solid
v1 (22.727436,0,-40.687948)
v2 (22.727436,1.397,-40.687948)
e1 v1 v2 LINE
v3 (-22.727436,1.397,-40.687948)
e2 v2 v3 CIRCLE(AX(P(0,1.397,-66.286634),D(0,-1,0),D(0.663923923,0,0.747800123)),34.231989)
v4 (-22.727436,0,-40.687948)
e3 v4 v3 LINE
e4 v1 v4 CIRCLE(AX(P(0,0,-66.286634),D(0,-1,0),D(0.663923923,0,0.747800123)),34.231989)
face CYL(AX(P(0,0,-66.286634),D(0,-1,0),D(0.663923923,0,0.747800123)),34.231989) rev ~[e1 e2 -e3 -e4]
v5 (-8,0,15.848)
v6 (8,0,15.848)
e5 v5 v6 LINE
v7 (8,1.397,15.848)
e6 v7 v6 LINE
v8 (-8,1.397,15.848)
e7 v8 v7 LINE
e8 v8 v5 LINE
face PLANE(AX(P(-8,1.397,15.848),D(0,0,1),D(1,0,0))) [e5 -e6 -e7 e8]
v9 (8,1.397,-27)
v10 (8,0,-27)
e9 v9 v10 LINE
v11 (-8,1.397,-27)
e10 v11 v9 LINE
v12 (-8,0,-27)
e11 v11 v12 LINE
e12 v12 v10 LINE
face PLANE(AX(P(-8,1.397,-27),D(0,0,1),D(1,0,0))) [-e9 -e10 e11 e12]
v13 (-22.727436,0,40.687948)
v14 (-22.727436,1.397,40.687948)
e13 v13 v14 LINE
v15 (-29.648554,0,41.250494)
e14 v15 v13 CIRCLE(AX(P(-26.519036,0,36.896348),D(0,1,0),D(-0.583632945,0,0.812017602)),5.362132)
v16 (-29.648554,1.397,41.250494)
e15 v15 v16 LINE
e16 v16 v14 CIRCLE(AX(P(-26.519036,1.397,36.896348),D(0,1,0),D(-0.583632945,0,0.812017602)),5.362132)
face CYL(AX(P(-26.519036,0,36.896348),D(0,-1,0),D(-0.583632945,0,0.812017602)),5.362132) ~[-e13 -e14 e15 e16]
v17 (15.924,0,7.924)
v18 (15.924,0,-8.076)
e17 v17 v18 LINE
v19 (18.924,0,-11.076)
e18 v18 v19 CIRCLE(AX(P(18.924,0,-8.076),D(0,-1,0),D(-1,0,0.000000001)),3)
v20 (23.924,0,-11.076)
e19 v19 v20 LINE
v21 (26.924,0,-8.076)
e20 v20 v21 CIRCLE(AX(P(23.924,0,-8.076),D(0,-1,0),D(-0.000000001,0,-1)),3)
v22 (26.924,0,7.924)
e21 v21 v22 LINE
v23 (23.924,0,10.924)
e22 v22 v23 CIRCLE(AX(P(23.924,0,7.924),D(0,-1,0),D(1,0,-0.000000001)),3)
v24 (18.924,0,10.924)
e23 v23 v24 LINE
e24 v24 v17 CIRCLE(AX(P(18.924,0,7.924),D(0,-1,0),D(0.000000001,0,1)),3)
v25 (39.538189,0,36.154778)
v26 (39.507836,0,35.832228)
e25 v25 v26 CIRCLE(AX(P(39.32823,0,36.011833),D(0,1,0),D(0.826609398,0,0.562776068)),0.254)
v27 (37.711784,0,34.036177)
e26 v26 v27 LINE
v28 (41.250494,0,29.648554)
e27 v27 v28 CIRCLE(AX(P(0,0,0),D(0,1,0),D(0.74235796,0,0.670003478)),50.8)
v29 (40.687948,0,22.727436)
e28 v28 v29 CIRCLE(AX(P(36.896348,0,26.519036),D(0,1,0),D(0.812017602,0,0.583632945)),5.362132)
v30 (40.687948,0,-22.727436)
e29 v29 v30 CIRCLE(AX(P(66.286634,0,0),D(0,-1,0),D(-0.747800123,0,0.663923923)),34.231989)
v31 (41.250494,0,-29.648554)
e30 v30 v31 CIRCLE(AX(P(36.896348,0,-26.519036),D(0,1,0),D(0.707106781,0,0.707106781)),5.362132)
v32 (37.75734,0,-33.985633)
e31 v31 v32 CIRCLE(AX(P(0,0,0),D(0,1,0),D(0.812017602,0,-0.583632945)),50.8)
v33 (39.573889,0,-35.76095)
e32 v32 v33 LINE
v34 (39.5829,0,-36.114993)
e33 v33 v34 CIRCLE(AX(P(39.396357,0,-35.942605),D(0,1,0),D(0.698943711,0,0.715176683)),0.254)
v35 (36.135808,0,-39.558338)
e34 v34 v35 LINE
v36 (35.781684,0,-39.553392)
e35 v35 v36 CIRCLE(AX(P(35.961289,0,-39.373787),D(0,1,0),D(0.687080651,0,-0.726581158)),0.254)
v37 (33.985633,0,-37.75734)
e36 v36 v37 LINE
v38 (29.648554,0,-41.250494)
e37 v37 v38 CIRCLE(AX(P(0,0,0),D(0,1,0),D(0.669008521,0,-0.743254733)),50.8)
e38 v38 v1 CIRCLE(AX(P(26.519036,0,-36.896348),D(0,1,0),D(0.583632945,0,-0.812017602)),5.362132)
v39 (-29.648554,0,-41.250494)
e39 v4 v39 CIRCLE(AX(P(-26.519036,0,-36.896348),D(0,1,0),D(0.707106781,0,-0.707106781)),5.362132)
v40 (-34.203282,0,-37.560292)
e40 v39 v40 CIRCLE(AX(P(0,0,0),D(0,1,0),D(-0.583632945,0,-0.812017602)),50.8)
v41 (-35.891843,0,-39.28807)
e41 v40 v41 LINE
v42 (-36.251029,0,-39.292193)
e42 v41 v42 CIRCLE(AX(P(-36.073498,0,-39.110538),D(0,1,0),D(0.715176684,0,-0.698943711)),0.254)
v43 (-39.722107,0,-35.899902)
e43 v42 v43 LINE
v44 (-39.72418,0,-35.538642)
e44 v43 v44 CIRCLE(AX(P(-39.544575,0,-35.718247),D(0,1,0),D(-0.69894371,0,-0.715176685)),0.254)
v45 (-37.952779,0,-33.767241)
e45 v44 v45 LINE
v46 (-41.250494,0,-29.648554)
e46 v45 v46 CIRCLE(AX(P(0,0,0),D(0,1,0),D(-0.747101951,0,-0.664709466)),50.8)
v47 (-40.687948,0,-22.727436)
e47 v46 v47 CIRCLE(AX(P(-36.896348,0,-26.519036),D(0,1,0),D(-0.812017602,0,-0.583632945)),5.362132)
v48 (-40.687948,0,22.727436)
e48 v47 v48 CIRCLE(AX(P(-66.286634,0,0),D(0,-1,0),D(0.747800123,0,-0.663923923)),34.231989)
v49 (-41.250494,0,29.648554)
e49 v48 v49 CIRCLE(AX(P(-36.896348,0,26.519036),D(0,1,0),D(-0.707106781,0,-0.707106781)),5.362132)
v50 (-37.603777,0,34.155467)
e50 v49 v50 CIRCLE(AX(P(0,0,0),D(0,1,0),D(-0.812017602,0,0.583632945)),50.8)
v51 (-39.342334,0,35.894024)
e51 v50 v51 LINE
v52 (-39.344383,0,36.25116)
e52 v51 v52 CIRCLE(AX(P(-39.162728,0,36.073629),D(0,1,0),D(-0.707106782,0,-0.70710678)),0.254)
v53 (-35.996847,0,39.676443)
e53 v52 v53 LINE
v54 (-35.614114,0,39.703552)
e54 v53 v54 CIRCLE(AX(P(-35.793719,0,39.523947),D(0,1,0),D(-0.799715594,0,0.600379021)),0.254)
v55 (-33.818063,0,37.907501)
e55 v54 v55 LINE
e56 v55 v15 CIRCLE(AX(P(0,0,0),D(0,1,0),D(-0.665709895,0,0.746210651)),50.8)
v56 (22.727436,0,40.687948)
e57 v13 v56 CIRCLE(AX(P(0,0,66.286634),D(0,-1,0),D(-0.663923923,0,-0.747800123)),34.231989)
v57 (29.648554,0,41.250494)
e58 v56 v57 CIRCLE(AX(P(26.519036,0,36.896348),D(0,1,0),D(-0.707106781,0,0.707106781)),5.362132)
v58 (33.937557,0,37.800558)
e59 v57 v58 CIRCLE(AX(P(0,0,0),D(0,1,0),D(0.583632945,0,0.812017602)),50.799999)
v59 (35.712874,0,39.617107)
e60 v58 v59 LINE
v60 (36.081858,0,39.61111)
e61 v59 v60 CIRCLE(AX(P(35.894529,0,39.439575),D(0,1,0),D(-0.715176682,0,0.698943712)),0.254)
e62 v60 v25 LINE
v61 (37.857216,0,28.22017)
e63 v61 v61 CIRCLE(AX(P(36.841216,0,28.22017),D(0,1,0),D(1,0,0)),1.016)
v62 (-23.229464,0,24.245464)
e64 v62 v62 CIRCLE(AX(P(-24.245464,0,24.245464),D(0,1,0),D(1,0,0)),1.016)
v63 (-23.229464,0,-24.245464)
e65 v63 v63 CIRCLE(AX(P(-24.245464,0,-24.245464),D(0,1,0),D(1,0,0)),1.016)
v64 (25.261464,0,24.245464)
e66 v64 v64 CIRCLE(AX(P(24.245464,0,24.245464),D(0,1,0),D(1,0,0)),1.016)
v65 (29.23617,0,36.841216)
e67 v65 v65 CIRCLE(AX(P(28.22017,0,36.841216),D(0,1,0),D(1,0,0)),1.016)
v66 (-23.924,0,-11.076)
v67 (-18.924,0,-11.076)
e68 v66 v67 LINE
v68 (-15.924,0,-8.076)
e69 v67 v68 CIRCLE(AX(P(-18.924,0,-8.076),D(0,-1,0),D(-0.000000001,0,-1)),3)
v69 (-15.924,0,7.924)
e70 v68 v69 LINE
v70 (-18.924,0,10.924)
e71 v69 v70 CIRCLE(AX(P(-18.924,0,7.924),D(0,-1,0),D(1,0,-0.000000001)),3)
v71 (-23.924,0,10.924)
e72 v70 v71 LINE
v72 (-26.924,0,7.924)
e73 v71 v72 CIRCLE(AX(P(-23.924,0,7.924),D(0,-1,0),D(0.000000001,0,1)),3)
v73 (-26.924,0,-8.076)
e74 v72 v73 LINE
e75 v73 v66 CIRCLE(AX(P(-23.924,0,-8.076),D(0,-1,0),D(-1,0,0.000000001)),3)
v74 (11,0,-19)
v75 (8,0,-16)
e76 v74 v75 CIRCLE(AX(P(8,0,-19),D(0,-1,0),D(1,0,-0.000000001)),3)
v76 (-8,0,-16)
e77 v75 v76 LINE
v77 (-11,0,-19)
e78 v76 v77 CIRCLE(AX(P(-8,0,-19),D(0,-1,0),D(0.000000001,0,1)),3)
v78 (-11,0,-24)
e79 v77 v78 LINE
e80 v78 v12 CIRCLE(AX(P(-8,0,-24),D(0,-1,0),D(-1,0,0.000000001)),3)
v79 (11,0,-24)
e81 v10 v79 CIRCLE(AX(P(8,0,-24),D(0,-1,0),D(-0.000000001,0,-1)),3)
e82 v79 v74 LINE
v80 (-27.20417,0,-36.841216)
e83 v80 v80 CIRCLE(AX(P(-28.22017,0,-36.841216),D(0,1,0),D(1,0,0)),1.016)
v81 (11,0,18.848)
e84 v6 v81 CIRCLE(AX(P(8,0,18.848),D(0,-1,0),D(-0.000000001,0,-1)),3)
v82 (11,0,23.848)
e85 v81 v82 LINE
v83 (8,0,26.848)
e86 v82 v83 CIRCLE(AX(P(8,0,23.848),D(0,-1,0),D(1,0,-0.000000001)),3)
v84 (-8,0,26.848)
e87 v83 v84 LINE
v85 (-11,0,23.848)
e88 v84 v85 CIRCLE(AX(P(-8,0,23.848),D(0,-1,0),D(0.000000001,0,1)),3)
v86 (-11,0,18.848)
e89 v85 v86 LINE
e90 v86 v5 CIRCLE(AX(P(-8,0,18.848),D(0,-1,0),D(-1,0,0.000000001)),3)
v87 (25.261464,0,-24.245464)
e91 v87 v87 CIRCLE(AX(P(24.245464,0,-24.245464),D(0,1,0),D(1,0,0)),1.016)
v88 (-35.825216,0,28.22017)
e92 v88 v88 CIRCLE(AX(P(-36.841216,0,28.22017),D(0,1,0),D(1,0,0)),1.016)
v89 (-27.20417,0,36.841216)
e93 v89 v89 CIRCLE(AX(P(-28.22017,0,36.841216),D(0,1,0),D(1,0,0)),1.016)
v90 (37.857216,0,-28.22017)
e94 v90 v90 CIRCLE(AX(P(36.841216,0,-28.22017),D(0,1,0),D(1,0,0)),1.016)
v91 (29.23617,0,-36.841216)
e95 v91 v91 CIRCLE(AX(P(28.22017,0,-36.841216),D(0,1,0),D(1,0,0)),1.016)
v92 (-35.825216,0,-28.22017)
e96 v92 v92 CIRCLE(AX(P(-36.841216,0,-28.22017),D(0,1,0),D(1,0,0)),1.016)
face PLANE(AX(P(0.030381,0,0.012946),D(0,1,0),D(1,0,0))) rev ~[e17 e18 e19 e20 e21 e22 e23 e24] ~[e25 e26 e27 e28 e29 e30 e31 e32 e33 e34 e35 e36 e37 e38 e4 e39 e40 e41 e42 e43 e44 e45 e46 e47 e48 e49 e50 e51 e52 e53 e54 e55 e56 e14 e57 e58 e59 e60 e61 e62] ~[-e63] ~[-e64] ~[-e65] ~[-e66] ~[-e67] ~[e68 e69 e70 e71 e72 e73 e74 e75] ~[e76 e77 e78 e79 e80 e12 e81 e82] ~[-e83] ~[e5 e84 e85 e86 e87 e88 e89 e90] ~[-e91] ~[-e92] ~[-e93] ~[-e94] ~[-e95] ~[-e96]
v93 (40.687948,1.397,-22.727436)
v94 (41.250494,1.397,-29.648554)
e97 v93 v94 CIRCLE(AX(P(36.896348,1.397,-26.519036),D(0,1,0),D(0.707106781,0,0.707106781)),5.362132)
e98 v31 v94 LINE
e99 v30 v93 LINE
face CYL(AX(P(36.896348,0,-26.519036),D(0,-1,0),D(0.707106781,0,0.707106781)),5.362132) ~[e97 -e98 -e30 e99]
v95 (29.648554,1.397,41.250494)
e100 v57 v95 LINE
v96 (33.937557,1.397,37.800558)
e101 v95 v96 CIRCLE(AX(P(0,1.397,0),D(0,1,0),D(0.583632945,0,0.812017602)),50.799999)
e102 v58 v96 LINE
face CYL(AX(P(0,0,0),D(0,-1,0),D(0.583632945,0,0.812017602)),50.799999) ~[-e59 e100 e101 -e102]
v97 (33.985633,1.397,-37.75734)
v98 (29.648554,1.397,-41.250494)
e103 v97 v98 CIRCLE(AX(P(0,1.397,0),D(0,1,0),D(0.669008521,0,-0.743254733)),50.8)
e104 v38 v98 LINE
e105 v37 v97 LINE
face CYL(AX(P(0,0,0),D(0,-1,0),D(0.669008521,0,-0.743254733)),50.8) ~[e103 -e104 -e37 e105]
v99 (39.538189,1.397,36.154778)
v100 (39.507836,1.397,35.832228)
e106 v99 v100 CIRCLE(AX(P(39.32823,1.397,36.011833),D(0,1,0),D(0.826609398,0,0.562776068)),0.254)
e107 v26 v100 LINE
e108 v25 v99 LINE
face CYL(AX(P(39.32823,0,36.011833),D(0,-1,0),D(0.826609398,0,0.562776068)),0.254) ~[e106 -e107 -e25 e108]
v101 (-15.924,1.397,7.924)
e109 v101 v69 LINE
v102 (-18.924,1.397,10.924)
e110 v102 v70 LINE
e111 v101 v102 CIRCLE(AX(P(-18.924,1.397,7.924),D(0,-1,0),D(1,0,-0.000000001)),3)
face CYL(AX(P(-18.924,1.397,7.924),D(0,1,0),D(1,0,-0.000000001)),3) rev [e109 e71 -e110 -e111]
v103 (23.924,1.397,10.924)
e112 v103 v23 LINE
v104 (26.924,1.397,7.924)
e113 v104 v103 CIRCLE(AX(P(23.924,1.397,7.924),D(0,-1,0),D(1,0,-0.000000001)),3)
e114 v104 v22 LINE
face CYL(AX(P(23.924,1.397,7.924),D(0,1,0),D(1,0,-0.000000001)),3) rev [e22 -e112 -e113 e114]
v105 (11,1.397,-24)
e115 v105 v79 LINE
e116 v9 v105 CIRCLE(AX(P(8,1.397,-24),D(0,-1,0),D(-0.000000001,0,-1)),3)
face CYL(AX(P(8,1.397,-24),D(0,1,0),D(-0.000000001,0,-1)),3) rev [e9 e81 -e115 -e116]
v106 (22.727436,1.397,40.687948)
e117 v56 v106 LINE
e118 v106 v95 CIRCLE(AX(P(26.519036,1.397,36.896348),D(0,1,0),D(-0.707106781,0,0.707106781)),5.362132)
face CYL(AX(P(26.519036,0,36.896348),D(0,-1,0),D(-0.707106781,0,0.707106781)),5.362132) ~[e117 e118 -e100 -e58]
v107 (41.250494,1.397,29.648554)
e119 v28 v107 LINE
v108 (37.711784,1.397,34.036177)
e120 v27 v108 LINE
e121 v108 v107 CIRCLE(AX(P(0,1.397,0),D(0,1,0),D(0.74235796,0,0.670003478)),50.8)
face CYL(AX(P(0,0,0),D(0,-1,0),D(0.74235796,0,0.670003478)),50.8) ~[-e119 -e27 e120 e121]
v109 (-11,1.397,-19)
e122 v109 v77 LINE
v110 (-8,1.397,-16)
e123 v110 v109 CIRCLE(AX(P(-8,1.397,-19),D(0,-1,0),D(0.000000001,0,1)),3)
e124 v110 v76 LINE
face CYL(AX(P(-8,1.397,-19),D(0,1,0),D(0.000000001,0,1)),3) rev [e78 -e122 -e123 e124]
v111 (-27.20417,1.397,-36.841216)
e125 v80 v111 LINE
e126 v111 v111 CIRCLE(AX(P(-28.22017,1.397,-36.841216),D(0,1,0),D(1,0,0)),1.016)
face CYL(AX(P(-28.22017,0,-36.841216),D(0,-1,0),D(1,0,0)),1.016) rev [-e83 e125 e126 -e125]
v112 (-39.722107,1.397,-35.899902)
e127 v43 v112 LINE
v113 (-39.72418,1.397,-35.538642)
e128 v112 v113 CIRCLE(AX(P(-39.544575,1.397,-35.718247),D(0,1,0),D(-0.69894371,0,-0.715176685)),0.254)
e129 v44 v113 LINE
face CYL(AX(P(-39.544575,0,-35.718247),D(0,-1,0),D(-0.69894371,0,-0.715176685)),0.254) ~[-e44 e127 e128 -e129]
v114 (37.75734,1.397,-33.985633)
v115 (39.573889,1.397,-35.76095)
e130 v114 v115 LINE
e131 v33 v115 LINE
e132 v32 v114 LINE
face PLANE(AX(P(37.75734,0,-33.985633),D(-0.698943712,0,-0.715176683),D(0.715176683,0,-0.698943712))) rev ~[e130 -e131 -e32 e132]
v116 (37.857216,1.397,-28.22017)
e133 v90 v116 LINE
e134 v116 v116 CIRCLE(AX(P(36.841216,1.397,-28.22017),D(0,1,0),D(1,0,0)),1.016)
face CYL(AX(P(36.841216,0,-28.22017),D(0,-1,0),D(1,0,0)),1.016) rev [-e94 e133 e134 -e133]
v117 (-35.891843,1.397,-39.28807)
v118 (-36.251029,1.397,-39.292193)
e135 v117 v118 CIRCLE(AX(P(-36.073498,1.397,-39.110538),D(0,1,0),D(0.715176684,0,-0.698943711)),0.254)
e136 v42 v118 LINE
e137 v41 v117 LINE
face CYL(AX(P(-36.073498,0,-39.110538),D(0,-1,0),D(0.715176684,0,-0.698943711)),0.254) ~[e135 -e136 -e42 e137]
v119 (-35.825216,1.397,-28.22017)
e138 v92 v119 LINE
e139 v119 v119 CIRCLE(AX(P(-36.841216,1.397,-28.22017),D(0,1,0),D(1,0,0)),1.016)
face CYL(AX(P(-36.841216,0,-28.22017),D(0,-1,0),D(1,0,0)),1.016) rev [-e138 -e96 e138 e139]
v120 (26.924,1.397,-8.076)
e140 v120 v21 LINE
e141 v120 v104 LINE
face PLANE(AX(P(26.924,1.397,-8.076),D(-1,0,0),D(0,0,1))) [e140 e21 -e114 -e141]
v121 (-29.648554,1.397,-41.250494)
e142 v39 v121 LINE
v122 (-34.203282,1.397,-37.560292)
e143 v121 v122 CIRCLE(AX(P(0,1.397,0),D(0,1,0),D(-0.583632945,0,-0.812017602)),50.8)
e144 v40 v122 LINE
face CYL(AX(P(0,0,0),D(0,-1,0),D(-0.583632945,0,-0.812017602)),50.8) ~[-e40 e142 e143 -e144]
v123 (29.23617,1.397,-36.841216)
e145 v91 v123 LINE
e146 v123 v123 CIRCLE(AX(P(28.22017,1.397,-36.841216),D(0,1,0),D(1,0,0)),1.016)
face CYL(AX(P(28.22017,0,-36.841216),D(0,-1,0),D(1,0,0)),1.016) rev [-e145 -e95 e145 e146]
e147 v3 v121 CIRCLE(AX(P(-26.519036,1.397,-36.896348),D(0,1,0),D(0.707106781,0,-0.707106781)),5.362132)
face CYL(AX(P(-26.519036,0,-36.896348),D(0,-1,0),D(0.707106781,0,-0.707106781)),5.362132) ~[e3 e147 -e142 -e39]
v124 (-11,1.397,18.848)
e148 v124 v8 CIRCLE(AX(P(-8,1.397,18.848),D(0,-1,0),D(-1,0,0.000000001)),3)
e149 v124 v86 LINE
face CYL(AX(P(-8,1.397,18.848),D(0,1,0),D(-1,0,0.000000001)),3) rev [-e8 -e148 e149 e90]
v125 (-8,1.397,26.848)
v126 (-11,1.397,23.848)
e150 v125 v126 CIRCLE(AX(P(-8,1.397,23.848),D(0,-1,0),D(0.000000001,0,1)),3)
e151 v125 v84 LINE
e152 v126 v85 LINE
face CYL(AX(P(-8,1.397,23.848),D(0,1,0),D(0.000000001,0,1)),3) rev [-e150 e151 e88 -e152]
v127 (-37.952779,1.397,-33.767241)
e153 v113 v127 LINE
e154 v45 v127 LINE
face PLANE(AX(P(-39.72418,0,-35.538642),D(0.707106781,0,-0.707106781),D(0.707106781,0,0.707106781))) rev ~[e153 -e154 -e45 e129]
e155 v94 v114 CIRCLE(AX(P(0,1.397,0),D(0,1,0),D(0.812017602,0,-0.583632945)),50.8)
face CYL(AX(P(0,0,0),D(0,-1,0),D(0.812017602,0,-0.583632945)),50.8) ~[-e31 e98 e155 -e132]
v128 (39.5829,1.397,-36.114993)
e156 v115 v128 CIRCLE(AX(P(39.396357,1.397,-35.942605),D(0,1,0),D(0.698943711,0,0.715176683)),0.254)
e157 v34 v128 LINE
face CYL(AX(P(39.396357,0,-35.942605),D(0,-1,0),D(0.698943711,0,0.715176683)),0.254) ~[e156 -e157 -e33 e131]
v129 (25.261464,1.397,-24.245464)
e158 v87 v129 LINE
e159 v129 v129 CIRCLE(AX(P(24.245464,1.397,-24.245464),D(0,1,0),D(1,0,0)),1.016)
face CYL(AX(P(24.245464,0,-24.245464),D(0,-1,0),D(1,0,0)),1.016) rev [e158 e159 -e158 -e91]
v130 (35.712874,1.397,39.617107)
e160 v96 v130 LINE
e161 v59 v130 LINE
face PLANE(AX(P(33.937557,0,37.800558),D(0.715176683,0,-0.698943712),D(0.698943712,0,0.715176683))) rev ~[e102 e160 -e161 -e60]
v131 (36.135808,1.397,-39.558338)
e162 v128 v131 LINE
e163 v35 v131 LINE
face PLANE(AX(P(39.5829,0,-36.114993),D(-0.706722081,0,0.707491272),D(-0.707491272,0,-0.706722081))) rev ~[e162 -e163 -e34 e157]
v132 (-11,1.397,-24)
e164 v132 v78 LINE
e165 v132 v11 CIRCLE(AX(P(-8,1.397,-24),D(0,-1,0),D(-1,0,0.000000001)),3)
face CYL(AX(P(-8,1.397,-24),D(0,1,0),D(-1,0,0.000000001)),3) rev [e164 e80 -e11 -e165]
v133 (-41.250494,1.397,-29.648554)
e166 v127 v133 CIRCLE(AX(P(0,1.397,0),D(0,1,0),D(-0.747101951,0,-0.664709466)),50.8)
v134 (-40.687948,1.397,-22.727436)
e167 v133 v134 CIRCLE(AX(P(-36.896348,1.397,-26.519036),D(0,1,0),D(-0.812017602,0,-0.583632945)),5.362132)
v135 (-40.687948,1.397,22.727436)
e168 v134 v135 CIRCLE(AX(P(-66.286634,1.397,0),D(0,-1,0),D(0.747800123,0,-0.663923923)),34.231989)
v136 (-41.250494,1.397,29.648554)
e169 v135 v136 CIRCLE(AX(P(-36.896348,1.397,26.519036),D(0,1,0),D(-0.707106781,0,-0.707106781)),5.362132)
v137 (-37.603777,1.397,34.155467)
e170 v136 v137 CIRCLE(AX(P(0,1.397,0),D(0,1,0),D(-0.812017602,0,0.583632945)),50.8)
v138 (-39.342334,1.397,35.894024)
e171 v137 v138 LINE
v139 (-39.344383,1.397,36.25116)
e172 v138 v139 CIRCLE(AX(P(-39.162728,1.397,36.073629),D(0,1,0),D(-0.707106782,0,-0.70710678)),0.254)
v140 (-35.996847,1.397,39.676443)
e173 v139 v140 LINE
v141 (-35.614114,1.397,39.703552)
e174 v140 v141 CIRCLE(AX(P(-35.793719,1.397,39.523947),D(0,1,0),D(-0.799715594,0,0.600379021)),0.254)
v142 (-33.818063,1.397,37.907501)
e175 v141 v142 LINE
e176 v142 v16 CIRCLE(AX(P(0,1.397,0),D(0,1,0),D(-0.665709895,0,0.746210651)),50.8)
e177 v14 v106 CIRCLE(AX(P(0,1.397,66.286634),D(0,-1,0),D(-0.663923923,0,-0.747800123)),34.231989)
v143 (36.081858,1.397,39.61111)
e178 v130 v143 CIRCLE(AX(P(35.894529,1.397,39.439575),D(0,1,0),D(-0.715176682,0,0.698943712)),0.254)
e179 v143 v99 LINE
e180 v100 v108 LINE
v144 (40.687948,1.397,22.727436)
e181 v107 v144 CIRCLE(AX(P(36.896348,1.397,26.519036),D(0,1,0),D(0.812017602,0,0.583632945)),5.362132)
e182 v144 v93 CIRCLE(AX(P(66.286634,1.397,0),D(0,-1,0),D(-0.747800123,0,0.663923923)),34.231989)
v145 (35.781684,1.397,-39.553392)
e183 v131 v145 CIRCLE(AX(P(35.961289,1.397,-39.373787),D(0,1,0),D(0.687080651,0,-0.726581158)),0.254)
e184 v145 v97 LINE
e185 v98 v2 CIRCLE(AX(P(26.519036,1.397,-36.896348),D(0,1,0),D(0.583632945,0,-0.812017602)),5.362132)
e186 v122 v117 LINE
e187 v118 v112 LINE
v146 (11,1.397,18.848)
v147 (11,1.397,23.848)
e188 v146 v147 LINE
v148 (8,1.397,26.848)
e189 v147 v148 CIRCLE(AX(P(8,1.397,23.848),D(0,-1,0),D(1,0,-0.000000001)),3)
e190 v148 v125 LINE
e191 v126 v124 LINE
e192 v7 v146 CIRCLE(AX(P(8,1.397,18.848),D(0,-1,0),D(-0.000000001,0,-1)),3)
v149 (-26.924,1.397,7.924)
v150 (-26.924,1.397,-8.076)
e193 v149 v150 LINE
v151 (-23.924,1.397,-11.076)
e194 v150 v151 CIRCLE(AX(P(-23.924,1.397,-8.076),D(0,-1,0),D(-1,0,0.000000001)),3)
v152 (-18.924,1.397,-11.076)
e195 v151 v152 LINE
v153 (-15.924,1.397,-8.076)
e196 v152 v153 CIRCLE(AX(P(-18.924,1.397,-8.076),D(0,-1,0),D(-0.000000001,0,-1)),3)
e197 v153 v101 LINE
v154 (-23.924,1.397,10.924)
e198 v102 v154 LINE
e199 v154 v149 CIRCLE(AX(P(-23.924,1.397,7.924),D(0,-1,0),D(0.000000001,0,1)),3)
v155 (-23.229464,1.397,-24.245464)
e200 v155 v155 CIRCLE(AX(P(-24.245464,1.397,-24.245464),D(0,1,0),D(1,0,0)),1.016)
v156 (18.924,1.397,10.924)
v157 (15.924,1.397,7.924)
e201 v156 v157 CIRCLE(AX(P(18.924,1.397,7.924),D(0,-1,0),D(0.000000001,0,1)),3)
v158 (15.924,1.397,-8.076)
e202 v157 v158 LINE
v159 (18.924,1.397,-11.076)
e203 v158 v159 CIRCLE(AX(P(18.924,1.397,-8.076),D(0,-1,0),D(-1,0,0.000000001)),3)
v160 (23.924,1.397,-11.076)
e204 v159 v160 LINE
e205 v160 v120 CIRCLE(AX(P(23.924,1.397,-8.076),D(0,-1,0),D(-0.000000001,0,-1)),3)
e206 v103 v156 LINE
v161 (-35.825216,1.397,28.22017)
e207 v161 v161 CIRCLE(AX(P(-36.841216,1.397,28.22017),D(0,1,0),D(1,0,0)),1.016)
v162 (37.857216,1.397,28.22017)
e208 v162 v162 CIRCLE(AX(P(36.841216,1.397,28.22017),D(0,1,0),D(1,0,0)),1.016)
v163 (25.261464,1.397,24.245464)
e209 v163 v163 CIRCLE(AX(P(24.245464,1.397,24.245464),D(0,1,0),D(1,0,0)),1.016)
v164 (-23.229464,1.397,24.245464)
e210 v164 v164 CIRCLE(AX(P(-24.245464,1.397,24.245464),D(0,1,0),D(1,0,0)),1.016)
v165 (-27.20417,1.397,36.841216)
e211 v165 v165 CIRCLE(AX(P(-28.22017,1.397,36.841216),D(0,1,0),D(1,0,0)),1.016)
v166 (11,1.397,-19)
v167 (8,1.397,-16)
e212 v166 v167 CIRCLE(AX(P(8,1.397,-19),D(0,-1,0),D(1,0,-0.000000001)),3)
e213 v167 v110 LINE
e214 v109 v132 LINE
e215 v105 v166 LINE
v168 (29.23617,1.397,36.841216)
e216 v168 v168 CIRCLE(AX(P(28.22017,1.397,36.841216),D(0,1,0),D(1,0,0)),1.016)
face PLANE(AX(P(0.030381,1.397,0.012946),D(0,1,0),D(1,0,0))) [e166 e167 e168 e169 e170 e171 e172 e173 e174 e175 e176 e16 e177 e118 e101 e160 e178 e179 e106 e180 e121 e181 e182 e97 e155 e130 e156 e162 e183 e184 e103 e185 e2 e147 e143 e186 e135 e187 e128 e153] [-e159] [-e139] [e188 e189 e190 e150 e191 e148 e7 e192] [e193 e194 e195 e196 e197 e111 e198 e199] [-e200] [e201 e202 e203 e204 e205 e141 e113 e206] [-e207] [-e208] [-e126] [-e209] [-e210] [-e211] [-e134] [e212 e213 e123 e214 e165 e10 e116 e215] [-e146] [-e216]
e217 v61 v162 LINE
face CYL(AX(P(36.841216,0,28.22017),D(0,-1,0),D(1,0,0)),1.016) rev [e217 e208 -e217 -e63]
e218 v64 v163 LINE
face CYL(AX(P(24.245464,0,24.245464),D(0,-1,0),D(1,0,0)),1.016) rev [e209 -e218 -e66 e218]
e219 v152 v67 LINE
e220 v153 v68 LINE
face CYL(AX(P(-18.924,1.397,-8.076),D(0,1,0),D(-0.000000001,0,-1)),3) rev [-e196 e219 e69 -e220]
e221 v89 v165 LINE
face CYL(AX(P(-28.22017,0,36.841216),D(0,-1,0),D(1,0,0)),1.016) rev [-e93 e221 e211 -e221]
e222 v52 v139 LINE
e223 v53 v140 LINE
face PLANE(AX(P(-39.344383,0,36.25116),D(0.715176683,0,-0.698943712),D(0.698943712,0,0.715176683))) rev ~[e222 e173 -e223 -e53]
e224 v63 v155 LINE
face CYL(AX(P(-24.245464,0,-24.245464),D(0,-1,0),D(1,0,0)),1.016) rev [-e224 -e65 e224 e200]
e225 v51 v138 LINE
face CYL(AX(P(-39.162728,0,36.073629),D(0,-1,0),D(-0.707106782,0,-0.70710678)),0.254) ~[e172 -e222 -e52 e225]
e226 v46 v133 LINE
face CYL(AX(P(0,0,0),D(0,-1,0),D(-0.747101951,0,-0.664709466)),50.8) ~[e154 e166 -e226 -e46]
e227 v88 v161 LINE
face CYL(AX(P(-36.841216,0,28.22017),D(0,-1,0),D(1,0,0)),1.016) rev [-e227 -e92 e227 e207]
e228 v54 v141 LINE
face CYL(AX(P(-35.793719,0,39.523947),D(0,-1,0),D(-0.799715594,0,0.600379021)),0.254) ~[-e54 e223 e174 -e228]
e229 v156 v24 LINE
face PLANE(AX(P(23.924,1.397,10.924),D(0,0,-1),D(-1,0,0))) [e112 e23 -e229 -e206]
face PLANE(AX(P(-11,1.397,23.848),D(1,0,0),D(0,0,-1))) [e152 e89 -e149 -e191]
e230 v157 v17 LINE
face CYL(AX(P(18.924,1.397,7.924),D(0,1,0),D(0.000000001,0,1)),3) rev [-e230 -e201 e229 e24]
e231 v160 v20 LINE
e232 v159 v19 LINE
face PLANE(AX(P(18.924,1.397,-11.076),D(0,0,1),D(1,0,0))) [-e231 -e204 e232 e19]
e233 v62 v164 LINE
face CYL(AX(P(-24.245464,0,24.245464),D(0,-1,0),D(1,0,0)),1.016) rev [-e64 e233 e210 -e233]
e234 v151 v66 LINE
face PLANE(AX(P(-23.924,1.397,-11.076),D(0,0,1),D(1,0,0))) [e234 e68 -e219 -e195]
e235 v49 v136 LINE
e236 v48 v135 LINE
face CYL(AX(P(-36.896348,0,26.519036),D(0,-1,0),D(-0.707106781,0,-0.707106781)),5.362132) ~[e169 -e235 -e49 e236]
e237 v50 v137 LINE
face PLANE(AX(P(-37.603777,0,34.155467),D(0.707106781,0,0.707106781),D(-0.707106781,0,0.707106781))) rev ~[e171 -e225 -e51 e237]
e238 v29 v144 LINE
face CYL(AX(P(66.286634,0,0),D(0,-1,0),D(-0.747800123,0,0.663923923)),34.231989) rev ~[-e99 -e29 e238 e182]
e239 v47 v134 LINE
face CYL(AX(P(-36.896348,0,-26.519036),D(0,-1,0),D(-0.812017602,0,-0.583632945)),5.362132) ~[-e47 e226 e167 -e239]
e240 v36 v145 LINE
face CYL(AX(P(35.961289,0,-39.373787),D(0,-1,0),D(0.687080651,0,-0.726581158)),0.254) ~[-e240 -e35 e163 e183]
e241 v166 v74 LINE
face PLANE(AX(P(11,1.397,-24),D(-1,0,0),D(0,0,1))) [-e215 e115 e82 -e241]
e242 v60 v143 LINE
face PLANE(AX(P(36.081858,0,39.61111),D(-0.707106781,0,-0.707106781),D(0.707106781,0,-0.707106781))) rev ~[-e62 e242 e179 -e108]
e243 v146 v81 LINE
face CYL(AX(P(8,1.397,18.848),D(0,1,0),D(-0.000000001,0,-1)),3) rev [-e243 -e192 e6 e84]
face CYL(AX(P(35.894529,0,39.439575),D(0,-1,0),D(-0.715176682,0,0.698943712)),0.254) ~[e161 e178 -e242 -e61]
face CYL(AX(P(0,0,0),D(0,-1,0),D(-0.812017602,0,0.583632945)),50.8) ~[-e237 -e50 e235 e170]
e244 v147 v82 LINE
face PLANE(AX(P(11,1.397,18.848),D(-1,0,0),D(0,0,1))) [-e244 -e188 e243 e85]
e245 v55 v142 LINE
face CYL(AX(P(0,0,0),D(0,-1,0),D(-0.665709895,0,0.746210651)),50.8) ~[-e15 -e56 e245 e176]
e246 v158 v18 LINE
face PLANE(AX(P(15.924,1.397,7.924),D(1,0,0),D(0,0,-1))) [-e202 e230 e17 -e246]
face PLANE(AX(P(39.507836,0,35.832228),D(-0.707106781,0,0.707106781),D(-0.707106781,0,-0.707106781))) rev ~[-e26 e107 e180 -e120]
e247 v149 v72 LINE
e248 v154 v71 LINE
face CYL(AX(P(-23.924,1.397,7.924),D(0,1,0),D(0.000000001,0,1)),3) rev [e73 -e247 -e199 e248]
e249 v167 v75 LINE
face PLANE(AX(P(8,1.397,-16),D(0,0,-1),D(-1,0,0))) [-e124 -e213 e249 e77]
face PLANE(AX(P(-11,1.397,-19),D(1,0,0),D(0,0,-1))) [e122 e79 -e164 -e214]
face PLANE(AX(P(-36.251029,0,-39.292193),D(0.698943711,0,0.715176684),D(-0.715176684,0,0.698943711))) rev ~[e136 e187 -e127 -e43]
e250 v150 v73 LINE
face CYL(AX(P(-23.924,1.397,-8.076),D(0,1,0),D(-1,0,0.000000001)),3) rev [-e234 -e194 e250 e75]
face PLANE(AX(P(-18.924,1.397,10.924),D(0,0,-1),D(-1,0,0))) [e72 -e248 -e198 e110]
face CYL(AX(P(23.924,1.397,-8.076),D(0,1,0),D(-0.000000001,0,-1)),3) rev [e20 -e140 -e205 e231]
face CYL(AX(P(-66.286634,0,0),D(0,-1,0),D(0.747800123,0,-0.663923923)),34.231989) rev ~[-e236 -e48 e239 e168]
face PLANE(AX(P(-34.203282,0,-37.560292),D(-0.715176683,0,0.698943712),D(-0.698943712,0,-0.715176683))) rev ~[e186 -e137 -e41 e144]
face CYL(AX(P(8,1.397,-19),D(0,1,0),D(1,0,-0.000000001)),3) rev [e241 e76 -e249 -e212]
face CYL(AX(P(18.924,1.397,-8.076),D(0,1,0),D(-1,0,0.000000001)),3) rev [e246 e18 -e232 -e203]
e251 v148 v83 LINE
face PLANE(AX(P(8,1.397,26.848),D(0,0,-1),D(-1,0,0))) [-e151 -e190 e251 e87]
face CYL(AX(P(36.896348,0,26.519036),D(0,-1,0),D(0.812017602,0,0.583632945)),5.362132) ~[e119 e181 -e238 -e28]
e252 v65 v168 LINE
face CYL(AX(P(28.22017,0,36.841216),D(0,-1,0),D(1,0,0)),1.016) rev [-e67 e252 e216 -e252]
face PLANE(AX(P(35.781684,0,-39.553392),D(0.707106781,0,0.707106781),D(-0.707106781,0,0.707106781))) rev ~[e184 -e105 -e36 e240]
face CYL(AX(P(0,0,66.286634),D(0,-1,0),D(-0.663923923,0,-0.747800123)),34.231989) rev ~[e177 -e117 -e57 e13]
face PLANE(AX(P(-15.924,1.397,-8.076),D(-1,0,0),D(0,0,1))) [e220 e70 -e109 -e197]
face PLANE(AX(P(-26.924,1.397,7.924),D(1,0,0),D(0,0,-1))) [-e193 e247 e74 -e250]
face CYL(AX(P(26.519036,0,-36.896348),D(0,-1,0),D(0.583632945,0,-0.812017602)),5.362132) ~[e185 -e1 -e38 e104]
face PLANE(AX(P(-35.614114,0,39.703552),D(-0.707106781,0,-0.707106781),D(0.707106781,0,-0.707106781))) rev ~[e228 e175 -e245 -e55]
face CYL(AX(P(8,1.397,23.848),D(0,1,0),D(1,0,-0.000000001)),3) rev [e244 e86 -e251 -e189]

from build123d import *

# Parameters (mm, degrees)
SKETCH1_R           = 1.015999997
SKETCH1_R_2         = 1.015999998
BOSS_EXTRUDE1_DEPTH = 1.397
CUT_EXTRUDE1_DEPTH  = 1.397


with BuildPart() as part:
    # Sketch1 → Boss-Extrude1 (new body)
    with BuildSketch(Plane(origin=(0, 0, 0), x_dir=(1, 0, 0), z_dir=(0, 1, 0))):
        with BuildLine():
            Line((39.582900137, 36.114993353), (36.135807663, 39.558338119))
            ThreePointArc((36.135807663, 39.558338119), (35.957741585, 39.627761729), (35.781684056, 39.553391627))
            Line((35.781684056, 39.553391627), (33.985632879, 37.75734045))
            ThreePointArc((33.985632879, 37.75734045), (31.864995739, 39.563392759), (29.648553616, 41.25049416))
            ThreePointArc((29.648553616, 41.25049416), (26.08463695, 42.240855836), (22.7274362, 40.687948442))
            ThreePointArc((22.7274362, 40.687948442), (0, 32.054645119), (-22.7274362, 40.687948442))
            ThreePointArc((-22.7274362, 40.687948442), (-26.08463695, 42.240855836), (-29.648553616, 41.25049416))
            ThreePointArc((-29.648553616, 41.25049416), (-31.979190339, 39.471146237), (-34.203281642, 37.560291864))
            Line((-34.203281642, 37.560291864), (-35.891842785, 39.288069847))
            ThreePointArc((-35.891842785, 39.288069847), (-36.070582137, 39.364521411), (-36.251029365, 39.292193022))
            Line((-36.251029365, 39.292193022), (-39.722106603, 35.899901777))
            ThreePointArc((-39.722106603, 35.899901777), (-39.798570717, 35.719704686), (-39.724180022, 35.538641777))
            Line((-39.724180022, 35.538641777), (-37.952779126, 33.76724088))
            ThreePointArc((-37.952779126, 33.76724088), (-39.65514495, 31.750739818), (-41.25049416, 29.648553616))
            ThreePointArc((-41.25049416, 29.648553616), (-42.240855836, 26.08463695), (-40.687948442, 22.7274362))
            ThreePointArc((-40.687948442, 22.7274362), (-32.054645119, 0), (-40.687948442, -22.7274362))
            ThreePointArc((-40.687948442, -22.7274362), (-42.240855836, -26.08463695), (-41.25049416, -29.648553616))
            ThreePointArc((-41.25049416, -29.648553616), (-39.491481287, -31.954074947), (-37.603777167, -34.155467245))
            Line((-37.603777167, -34.155467245), (-39.342333505, -35.894023583))
            ThreePointArc((-39.342333505, -35.894023583), (-39.416724199, -36.072170919), (-39.34438326, -36.251160408))
            Line((-39.34438326, -36.251160408), (-35.996846779, -39.67644344))
            ThreePointArc((-35.996846779, -39.67644344), (-35.8116648, -39.777312417), (-35.614113895, -39.703552292))
            Line((-35.614113895, -39.703552292), (-33.818062671, -37.907501068))
            ThreePointArc((-33.818062671, -37.907501068), (-31.777299231, -39.633864984), (-29.648553616, -41.25049416))
            ThreePointArc((-29.648553616, -41.25049416), (-26.08463695, -42.240855836), (-22.7274362, -40.687948442))
            ThreePointArc((-22.7274362, -40.687948442), (0, -32.054645119), (22.7274362, -40.687948442))
            ThreePointArc((22.7274362, -40.687948442), (26.08463695, -42.240855836), (29.648553616, -41.25049416))
            ThreePointArc((29.648553616, -41.25049416), (31.839816037, -39.583659694), (33.937557164, -37.800558378))
            Line((33.937557164, -37.800558378), (35.712874192, -39.617107153))
            ThreePointArc((35.712874192, -39.617107153), (35.89865706, -39.693541904), (36.081857691, -39.611109667))
            Line((36.081857691, -39.611109667), (39.53818925, -36.154778109))
            ThreePointArc((39.53818925, -36.154778109), (39.581113192, -35.9880354), (39.507835585, -35.832227866))
            Line((39.507835585, -35.832227866), (37.71178436, -34.036176641))
            ThreePointArc((37.71178436, -34.036176641), (39.542043021, -31.891485286), (41.25049416, -29.648553616))
            ThreePointArc((41.25049416, -29.648553616), (42.240855836, -26.08463695), (40.687948442, -22.7274362))
            ThreePointArc((40.687948442, -22.7274362), (32.054645119, 0), (40.687948442, 22.7274362))
            ThreePointArc((40.687948442, 22.7274362), (42.240855836, 26.08463695), (41.25049416, 29.648553616))
            ThreePointArc((41.25049416, 29.648553616), (39.563392759, 31.864995739), (37.75734045, 33.985632879))
            Line((37.75734045, 33.985632879), (39.573889176, 35.76094986))
            ThreePointArc((39.573889176, 35.76094986), (39.650275245, 35.936142133), (39.582900137, 36.114993353))
        make_face()
        with Locations((-28.220170249, 36.841216125)):
            Circle(SKETCH1_R, mode=Mode.SUBTRACT)
        with Locations((-36.841216125, 28.220170249)):
            Circle(SKETCH1_R, mode=Mode.SUBTRACT)
        with Locations((-24.24546392, 24.24546392)):
            Circle(SKETCH1_R_2, mode=Mode.SUBTRACT)
        with Locations((28.220170249, 36.841216125)):
            Circle(SKETCH1_R, mode=Mode.SUBTRACT)
        with Locations((36.841216125, 28.220170249)):
            Circle(SKETCH1_R, mode=Mode.SUBTRACT)
        with Locations((24.24546392, 24.24546392)):
            Circle(SKETCH1_R_2, mode=Mode.SUBTRACT)
        with Locations((36.841216125, -28.220170249)):
            Circle(SKETCH1_R, mode=Mode.SUBTRACT)
        with Locations((28.220170249, -36.841216125)):
            Circle(SKETCH1_R, mode=Mode.SUBTRACT)
        with Locations((24.24546392, -24.24546392)):
            Circle(SKETCH1_R_2, mode=Mode.SUBTRACT)
        with Locations((-28.220170249, -36.841216125)):
            Circle(SKETCH1_R, mode=Mode.SUBTRACT)
        with Locations((-36.841216125, -28.220170249)):
            Circle(SKETCH1_R, mode=Mode.SUBTRACT)
        with Locations((-24.24546392, -24.24546392)):
            Circle(SKETCH1_R_2, mode=Mode.SUBTRACT)
    extrude(amount=BOSS_EXTRUDE1_DEPTH)

    # Sketch3 → Cut-Extrude1 (cut)
    with BuildSketch(Plane(origin=(0, 1.397, 0), x_dir=(1, 0, 0), z_dir=(0, 1, 0))):
        with BuildLine():
            Line((26.924, 8.076), (26.924, -7.924))
            ThreePointArc((26.924, -7.924), (26.045320344, -10.045320344), (23.924, -10.924))
            Line((23.924, -10.924), (18.924, -10.924))
            ThreePointArc((18.924, -10.924), (16.802679656, -10.045320344), (15.924, -7.924))
            Line((15.924, -7.924), (15.924, 8.076))
            ThreePointArc((15.924, 8.076), (16.802679656, 10.197320344), (18.924, 11.076))
            Line((18.924, 11.076), (23.924, 11.076))
            ThreePointArc((23.924, 11.076), (26.045320344, 10.197320344), (26.924, 8.076))
        make_face()
        with BuildLine():
            Line((-8, 27), (8, 27))
            ThreePointArc((8, 27), (10.121320344, 26.121320344), (11, 24))
            Line((11, 24), (11, 19))
            ThreePointArc((11, 19), (10.121320344, 16.878679656), (8, 16))
            Line((8, 16), (-8, 16))
            ThreePointArc((-8, 16), (-10.121320344, 16.878679656), (-11, 19))
            Line((-11, 19), (-11, 24))
            ThreePointArc((-11, 24), (-10.121320344, 26.121320344), (-8, 27))
        make_face()
        with BuildLine():
            Line((8, -26.848), (-8, -26.848))
            ThreePointArc((-8, -26.848), (-10.121320344, -25.969320344), (-11, -23.848))
            Line((-11, -23.848), (-11, -18.848))
            ThreePointArc((-11, -18.848), (-10.121320344, -16.726679656), (-8, -15.848))
            Line((-8, -15.848), (8, -15.848))
            ThreePointArc((8, -15.848), (10.121320344, -16.726679656), (11, -18.848))
            Line((11, -18.848), (11, -23.848))
            ThreePointArc((11, -23.848), (10.121320344, -25.969320344), (8, -26.848))
        make_face()
        with BuildLine():
            Line((-26.924, -7.924), (-26.924, 8.076))
            ThreePointArc((-26.924, 8.076), (-26.045320344, 10.197320344), (-23.924, 11.076))
            Line((-23.924, 11.076), (-18.924, 11.076))
            ThreePointArc((-18.924, 11.076), (-16.802679656, 10.197320344), (-15.924, 8.076))
            Line((-15.924, 8.076), (-15.924, -7.924))
            ThreePointArc((-15.924, -7.924), (-16.802679656, -10.045320344), (-18.924, -10.924))
            Line((-18.924, -10.924), (-23.924, -10.924))
            ThreePointArc((-23.924, -10.924), (-26.045320344, -10.045320344), (-26.924, -7.924))
        make_face()
    extrude(amount=-CUT_EXTRUDE1_DEPTH, mode=Mode.SUBTRACT)


solid = part.part
